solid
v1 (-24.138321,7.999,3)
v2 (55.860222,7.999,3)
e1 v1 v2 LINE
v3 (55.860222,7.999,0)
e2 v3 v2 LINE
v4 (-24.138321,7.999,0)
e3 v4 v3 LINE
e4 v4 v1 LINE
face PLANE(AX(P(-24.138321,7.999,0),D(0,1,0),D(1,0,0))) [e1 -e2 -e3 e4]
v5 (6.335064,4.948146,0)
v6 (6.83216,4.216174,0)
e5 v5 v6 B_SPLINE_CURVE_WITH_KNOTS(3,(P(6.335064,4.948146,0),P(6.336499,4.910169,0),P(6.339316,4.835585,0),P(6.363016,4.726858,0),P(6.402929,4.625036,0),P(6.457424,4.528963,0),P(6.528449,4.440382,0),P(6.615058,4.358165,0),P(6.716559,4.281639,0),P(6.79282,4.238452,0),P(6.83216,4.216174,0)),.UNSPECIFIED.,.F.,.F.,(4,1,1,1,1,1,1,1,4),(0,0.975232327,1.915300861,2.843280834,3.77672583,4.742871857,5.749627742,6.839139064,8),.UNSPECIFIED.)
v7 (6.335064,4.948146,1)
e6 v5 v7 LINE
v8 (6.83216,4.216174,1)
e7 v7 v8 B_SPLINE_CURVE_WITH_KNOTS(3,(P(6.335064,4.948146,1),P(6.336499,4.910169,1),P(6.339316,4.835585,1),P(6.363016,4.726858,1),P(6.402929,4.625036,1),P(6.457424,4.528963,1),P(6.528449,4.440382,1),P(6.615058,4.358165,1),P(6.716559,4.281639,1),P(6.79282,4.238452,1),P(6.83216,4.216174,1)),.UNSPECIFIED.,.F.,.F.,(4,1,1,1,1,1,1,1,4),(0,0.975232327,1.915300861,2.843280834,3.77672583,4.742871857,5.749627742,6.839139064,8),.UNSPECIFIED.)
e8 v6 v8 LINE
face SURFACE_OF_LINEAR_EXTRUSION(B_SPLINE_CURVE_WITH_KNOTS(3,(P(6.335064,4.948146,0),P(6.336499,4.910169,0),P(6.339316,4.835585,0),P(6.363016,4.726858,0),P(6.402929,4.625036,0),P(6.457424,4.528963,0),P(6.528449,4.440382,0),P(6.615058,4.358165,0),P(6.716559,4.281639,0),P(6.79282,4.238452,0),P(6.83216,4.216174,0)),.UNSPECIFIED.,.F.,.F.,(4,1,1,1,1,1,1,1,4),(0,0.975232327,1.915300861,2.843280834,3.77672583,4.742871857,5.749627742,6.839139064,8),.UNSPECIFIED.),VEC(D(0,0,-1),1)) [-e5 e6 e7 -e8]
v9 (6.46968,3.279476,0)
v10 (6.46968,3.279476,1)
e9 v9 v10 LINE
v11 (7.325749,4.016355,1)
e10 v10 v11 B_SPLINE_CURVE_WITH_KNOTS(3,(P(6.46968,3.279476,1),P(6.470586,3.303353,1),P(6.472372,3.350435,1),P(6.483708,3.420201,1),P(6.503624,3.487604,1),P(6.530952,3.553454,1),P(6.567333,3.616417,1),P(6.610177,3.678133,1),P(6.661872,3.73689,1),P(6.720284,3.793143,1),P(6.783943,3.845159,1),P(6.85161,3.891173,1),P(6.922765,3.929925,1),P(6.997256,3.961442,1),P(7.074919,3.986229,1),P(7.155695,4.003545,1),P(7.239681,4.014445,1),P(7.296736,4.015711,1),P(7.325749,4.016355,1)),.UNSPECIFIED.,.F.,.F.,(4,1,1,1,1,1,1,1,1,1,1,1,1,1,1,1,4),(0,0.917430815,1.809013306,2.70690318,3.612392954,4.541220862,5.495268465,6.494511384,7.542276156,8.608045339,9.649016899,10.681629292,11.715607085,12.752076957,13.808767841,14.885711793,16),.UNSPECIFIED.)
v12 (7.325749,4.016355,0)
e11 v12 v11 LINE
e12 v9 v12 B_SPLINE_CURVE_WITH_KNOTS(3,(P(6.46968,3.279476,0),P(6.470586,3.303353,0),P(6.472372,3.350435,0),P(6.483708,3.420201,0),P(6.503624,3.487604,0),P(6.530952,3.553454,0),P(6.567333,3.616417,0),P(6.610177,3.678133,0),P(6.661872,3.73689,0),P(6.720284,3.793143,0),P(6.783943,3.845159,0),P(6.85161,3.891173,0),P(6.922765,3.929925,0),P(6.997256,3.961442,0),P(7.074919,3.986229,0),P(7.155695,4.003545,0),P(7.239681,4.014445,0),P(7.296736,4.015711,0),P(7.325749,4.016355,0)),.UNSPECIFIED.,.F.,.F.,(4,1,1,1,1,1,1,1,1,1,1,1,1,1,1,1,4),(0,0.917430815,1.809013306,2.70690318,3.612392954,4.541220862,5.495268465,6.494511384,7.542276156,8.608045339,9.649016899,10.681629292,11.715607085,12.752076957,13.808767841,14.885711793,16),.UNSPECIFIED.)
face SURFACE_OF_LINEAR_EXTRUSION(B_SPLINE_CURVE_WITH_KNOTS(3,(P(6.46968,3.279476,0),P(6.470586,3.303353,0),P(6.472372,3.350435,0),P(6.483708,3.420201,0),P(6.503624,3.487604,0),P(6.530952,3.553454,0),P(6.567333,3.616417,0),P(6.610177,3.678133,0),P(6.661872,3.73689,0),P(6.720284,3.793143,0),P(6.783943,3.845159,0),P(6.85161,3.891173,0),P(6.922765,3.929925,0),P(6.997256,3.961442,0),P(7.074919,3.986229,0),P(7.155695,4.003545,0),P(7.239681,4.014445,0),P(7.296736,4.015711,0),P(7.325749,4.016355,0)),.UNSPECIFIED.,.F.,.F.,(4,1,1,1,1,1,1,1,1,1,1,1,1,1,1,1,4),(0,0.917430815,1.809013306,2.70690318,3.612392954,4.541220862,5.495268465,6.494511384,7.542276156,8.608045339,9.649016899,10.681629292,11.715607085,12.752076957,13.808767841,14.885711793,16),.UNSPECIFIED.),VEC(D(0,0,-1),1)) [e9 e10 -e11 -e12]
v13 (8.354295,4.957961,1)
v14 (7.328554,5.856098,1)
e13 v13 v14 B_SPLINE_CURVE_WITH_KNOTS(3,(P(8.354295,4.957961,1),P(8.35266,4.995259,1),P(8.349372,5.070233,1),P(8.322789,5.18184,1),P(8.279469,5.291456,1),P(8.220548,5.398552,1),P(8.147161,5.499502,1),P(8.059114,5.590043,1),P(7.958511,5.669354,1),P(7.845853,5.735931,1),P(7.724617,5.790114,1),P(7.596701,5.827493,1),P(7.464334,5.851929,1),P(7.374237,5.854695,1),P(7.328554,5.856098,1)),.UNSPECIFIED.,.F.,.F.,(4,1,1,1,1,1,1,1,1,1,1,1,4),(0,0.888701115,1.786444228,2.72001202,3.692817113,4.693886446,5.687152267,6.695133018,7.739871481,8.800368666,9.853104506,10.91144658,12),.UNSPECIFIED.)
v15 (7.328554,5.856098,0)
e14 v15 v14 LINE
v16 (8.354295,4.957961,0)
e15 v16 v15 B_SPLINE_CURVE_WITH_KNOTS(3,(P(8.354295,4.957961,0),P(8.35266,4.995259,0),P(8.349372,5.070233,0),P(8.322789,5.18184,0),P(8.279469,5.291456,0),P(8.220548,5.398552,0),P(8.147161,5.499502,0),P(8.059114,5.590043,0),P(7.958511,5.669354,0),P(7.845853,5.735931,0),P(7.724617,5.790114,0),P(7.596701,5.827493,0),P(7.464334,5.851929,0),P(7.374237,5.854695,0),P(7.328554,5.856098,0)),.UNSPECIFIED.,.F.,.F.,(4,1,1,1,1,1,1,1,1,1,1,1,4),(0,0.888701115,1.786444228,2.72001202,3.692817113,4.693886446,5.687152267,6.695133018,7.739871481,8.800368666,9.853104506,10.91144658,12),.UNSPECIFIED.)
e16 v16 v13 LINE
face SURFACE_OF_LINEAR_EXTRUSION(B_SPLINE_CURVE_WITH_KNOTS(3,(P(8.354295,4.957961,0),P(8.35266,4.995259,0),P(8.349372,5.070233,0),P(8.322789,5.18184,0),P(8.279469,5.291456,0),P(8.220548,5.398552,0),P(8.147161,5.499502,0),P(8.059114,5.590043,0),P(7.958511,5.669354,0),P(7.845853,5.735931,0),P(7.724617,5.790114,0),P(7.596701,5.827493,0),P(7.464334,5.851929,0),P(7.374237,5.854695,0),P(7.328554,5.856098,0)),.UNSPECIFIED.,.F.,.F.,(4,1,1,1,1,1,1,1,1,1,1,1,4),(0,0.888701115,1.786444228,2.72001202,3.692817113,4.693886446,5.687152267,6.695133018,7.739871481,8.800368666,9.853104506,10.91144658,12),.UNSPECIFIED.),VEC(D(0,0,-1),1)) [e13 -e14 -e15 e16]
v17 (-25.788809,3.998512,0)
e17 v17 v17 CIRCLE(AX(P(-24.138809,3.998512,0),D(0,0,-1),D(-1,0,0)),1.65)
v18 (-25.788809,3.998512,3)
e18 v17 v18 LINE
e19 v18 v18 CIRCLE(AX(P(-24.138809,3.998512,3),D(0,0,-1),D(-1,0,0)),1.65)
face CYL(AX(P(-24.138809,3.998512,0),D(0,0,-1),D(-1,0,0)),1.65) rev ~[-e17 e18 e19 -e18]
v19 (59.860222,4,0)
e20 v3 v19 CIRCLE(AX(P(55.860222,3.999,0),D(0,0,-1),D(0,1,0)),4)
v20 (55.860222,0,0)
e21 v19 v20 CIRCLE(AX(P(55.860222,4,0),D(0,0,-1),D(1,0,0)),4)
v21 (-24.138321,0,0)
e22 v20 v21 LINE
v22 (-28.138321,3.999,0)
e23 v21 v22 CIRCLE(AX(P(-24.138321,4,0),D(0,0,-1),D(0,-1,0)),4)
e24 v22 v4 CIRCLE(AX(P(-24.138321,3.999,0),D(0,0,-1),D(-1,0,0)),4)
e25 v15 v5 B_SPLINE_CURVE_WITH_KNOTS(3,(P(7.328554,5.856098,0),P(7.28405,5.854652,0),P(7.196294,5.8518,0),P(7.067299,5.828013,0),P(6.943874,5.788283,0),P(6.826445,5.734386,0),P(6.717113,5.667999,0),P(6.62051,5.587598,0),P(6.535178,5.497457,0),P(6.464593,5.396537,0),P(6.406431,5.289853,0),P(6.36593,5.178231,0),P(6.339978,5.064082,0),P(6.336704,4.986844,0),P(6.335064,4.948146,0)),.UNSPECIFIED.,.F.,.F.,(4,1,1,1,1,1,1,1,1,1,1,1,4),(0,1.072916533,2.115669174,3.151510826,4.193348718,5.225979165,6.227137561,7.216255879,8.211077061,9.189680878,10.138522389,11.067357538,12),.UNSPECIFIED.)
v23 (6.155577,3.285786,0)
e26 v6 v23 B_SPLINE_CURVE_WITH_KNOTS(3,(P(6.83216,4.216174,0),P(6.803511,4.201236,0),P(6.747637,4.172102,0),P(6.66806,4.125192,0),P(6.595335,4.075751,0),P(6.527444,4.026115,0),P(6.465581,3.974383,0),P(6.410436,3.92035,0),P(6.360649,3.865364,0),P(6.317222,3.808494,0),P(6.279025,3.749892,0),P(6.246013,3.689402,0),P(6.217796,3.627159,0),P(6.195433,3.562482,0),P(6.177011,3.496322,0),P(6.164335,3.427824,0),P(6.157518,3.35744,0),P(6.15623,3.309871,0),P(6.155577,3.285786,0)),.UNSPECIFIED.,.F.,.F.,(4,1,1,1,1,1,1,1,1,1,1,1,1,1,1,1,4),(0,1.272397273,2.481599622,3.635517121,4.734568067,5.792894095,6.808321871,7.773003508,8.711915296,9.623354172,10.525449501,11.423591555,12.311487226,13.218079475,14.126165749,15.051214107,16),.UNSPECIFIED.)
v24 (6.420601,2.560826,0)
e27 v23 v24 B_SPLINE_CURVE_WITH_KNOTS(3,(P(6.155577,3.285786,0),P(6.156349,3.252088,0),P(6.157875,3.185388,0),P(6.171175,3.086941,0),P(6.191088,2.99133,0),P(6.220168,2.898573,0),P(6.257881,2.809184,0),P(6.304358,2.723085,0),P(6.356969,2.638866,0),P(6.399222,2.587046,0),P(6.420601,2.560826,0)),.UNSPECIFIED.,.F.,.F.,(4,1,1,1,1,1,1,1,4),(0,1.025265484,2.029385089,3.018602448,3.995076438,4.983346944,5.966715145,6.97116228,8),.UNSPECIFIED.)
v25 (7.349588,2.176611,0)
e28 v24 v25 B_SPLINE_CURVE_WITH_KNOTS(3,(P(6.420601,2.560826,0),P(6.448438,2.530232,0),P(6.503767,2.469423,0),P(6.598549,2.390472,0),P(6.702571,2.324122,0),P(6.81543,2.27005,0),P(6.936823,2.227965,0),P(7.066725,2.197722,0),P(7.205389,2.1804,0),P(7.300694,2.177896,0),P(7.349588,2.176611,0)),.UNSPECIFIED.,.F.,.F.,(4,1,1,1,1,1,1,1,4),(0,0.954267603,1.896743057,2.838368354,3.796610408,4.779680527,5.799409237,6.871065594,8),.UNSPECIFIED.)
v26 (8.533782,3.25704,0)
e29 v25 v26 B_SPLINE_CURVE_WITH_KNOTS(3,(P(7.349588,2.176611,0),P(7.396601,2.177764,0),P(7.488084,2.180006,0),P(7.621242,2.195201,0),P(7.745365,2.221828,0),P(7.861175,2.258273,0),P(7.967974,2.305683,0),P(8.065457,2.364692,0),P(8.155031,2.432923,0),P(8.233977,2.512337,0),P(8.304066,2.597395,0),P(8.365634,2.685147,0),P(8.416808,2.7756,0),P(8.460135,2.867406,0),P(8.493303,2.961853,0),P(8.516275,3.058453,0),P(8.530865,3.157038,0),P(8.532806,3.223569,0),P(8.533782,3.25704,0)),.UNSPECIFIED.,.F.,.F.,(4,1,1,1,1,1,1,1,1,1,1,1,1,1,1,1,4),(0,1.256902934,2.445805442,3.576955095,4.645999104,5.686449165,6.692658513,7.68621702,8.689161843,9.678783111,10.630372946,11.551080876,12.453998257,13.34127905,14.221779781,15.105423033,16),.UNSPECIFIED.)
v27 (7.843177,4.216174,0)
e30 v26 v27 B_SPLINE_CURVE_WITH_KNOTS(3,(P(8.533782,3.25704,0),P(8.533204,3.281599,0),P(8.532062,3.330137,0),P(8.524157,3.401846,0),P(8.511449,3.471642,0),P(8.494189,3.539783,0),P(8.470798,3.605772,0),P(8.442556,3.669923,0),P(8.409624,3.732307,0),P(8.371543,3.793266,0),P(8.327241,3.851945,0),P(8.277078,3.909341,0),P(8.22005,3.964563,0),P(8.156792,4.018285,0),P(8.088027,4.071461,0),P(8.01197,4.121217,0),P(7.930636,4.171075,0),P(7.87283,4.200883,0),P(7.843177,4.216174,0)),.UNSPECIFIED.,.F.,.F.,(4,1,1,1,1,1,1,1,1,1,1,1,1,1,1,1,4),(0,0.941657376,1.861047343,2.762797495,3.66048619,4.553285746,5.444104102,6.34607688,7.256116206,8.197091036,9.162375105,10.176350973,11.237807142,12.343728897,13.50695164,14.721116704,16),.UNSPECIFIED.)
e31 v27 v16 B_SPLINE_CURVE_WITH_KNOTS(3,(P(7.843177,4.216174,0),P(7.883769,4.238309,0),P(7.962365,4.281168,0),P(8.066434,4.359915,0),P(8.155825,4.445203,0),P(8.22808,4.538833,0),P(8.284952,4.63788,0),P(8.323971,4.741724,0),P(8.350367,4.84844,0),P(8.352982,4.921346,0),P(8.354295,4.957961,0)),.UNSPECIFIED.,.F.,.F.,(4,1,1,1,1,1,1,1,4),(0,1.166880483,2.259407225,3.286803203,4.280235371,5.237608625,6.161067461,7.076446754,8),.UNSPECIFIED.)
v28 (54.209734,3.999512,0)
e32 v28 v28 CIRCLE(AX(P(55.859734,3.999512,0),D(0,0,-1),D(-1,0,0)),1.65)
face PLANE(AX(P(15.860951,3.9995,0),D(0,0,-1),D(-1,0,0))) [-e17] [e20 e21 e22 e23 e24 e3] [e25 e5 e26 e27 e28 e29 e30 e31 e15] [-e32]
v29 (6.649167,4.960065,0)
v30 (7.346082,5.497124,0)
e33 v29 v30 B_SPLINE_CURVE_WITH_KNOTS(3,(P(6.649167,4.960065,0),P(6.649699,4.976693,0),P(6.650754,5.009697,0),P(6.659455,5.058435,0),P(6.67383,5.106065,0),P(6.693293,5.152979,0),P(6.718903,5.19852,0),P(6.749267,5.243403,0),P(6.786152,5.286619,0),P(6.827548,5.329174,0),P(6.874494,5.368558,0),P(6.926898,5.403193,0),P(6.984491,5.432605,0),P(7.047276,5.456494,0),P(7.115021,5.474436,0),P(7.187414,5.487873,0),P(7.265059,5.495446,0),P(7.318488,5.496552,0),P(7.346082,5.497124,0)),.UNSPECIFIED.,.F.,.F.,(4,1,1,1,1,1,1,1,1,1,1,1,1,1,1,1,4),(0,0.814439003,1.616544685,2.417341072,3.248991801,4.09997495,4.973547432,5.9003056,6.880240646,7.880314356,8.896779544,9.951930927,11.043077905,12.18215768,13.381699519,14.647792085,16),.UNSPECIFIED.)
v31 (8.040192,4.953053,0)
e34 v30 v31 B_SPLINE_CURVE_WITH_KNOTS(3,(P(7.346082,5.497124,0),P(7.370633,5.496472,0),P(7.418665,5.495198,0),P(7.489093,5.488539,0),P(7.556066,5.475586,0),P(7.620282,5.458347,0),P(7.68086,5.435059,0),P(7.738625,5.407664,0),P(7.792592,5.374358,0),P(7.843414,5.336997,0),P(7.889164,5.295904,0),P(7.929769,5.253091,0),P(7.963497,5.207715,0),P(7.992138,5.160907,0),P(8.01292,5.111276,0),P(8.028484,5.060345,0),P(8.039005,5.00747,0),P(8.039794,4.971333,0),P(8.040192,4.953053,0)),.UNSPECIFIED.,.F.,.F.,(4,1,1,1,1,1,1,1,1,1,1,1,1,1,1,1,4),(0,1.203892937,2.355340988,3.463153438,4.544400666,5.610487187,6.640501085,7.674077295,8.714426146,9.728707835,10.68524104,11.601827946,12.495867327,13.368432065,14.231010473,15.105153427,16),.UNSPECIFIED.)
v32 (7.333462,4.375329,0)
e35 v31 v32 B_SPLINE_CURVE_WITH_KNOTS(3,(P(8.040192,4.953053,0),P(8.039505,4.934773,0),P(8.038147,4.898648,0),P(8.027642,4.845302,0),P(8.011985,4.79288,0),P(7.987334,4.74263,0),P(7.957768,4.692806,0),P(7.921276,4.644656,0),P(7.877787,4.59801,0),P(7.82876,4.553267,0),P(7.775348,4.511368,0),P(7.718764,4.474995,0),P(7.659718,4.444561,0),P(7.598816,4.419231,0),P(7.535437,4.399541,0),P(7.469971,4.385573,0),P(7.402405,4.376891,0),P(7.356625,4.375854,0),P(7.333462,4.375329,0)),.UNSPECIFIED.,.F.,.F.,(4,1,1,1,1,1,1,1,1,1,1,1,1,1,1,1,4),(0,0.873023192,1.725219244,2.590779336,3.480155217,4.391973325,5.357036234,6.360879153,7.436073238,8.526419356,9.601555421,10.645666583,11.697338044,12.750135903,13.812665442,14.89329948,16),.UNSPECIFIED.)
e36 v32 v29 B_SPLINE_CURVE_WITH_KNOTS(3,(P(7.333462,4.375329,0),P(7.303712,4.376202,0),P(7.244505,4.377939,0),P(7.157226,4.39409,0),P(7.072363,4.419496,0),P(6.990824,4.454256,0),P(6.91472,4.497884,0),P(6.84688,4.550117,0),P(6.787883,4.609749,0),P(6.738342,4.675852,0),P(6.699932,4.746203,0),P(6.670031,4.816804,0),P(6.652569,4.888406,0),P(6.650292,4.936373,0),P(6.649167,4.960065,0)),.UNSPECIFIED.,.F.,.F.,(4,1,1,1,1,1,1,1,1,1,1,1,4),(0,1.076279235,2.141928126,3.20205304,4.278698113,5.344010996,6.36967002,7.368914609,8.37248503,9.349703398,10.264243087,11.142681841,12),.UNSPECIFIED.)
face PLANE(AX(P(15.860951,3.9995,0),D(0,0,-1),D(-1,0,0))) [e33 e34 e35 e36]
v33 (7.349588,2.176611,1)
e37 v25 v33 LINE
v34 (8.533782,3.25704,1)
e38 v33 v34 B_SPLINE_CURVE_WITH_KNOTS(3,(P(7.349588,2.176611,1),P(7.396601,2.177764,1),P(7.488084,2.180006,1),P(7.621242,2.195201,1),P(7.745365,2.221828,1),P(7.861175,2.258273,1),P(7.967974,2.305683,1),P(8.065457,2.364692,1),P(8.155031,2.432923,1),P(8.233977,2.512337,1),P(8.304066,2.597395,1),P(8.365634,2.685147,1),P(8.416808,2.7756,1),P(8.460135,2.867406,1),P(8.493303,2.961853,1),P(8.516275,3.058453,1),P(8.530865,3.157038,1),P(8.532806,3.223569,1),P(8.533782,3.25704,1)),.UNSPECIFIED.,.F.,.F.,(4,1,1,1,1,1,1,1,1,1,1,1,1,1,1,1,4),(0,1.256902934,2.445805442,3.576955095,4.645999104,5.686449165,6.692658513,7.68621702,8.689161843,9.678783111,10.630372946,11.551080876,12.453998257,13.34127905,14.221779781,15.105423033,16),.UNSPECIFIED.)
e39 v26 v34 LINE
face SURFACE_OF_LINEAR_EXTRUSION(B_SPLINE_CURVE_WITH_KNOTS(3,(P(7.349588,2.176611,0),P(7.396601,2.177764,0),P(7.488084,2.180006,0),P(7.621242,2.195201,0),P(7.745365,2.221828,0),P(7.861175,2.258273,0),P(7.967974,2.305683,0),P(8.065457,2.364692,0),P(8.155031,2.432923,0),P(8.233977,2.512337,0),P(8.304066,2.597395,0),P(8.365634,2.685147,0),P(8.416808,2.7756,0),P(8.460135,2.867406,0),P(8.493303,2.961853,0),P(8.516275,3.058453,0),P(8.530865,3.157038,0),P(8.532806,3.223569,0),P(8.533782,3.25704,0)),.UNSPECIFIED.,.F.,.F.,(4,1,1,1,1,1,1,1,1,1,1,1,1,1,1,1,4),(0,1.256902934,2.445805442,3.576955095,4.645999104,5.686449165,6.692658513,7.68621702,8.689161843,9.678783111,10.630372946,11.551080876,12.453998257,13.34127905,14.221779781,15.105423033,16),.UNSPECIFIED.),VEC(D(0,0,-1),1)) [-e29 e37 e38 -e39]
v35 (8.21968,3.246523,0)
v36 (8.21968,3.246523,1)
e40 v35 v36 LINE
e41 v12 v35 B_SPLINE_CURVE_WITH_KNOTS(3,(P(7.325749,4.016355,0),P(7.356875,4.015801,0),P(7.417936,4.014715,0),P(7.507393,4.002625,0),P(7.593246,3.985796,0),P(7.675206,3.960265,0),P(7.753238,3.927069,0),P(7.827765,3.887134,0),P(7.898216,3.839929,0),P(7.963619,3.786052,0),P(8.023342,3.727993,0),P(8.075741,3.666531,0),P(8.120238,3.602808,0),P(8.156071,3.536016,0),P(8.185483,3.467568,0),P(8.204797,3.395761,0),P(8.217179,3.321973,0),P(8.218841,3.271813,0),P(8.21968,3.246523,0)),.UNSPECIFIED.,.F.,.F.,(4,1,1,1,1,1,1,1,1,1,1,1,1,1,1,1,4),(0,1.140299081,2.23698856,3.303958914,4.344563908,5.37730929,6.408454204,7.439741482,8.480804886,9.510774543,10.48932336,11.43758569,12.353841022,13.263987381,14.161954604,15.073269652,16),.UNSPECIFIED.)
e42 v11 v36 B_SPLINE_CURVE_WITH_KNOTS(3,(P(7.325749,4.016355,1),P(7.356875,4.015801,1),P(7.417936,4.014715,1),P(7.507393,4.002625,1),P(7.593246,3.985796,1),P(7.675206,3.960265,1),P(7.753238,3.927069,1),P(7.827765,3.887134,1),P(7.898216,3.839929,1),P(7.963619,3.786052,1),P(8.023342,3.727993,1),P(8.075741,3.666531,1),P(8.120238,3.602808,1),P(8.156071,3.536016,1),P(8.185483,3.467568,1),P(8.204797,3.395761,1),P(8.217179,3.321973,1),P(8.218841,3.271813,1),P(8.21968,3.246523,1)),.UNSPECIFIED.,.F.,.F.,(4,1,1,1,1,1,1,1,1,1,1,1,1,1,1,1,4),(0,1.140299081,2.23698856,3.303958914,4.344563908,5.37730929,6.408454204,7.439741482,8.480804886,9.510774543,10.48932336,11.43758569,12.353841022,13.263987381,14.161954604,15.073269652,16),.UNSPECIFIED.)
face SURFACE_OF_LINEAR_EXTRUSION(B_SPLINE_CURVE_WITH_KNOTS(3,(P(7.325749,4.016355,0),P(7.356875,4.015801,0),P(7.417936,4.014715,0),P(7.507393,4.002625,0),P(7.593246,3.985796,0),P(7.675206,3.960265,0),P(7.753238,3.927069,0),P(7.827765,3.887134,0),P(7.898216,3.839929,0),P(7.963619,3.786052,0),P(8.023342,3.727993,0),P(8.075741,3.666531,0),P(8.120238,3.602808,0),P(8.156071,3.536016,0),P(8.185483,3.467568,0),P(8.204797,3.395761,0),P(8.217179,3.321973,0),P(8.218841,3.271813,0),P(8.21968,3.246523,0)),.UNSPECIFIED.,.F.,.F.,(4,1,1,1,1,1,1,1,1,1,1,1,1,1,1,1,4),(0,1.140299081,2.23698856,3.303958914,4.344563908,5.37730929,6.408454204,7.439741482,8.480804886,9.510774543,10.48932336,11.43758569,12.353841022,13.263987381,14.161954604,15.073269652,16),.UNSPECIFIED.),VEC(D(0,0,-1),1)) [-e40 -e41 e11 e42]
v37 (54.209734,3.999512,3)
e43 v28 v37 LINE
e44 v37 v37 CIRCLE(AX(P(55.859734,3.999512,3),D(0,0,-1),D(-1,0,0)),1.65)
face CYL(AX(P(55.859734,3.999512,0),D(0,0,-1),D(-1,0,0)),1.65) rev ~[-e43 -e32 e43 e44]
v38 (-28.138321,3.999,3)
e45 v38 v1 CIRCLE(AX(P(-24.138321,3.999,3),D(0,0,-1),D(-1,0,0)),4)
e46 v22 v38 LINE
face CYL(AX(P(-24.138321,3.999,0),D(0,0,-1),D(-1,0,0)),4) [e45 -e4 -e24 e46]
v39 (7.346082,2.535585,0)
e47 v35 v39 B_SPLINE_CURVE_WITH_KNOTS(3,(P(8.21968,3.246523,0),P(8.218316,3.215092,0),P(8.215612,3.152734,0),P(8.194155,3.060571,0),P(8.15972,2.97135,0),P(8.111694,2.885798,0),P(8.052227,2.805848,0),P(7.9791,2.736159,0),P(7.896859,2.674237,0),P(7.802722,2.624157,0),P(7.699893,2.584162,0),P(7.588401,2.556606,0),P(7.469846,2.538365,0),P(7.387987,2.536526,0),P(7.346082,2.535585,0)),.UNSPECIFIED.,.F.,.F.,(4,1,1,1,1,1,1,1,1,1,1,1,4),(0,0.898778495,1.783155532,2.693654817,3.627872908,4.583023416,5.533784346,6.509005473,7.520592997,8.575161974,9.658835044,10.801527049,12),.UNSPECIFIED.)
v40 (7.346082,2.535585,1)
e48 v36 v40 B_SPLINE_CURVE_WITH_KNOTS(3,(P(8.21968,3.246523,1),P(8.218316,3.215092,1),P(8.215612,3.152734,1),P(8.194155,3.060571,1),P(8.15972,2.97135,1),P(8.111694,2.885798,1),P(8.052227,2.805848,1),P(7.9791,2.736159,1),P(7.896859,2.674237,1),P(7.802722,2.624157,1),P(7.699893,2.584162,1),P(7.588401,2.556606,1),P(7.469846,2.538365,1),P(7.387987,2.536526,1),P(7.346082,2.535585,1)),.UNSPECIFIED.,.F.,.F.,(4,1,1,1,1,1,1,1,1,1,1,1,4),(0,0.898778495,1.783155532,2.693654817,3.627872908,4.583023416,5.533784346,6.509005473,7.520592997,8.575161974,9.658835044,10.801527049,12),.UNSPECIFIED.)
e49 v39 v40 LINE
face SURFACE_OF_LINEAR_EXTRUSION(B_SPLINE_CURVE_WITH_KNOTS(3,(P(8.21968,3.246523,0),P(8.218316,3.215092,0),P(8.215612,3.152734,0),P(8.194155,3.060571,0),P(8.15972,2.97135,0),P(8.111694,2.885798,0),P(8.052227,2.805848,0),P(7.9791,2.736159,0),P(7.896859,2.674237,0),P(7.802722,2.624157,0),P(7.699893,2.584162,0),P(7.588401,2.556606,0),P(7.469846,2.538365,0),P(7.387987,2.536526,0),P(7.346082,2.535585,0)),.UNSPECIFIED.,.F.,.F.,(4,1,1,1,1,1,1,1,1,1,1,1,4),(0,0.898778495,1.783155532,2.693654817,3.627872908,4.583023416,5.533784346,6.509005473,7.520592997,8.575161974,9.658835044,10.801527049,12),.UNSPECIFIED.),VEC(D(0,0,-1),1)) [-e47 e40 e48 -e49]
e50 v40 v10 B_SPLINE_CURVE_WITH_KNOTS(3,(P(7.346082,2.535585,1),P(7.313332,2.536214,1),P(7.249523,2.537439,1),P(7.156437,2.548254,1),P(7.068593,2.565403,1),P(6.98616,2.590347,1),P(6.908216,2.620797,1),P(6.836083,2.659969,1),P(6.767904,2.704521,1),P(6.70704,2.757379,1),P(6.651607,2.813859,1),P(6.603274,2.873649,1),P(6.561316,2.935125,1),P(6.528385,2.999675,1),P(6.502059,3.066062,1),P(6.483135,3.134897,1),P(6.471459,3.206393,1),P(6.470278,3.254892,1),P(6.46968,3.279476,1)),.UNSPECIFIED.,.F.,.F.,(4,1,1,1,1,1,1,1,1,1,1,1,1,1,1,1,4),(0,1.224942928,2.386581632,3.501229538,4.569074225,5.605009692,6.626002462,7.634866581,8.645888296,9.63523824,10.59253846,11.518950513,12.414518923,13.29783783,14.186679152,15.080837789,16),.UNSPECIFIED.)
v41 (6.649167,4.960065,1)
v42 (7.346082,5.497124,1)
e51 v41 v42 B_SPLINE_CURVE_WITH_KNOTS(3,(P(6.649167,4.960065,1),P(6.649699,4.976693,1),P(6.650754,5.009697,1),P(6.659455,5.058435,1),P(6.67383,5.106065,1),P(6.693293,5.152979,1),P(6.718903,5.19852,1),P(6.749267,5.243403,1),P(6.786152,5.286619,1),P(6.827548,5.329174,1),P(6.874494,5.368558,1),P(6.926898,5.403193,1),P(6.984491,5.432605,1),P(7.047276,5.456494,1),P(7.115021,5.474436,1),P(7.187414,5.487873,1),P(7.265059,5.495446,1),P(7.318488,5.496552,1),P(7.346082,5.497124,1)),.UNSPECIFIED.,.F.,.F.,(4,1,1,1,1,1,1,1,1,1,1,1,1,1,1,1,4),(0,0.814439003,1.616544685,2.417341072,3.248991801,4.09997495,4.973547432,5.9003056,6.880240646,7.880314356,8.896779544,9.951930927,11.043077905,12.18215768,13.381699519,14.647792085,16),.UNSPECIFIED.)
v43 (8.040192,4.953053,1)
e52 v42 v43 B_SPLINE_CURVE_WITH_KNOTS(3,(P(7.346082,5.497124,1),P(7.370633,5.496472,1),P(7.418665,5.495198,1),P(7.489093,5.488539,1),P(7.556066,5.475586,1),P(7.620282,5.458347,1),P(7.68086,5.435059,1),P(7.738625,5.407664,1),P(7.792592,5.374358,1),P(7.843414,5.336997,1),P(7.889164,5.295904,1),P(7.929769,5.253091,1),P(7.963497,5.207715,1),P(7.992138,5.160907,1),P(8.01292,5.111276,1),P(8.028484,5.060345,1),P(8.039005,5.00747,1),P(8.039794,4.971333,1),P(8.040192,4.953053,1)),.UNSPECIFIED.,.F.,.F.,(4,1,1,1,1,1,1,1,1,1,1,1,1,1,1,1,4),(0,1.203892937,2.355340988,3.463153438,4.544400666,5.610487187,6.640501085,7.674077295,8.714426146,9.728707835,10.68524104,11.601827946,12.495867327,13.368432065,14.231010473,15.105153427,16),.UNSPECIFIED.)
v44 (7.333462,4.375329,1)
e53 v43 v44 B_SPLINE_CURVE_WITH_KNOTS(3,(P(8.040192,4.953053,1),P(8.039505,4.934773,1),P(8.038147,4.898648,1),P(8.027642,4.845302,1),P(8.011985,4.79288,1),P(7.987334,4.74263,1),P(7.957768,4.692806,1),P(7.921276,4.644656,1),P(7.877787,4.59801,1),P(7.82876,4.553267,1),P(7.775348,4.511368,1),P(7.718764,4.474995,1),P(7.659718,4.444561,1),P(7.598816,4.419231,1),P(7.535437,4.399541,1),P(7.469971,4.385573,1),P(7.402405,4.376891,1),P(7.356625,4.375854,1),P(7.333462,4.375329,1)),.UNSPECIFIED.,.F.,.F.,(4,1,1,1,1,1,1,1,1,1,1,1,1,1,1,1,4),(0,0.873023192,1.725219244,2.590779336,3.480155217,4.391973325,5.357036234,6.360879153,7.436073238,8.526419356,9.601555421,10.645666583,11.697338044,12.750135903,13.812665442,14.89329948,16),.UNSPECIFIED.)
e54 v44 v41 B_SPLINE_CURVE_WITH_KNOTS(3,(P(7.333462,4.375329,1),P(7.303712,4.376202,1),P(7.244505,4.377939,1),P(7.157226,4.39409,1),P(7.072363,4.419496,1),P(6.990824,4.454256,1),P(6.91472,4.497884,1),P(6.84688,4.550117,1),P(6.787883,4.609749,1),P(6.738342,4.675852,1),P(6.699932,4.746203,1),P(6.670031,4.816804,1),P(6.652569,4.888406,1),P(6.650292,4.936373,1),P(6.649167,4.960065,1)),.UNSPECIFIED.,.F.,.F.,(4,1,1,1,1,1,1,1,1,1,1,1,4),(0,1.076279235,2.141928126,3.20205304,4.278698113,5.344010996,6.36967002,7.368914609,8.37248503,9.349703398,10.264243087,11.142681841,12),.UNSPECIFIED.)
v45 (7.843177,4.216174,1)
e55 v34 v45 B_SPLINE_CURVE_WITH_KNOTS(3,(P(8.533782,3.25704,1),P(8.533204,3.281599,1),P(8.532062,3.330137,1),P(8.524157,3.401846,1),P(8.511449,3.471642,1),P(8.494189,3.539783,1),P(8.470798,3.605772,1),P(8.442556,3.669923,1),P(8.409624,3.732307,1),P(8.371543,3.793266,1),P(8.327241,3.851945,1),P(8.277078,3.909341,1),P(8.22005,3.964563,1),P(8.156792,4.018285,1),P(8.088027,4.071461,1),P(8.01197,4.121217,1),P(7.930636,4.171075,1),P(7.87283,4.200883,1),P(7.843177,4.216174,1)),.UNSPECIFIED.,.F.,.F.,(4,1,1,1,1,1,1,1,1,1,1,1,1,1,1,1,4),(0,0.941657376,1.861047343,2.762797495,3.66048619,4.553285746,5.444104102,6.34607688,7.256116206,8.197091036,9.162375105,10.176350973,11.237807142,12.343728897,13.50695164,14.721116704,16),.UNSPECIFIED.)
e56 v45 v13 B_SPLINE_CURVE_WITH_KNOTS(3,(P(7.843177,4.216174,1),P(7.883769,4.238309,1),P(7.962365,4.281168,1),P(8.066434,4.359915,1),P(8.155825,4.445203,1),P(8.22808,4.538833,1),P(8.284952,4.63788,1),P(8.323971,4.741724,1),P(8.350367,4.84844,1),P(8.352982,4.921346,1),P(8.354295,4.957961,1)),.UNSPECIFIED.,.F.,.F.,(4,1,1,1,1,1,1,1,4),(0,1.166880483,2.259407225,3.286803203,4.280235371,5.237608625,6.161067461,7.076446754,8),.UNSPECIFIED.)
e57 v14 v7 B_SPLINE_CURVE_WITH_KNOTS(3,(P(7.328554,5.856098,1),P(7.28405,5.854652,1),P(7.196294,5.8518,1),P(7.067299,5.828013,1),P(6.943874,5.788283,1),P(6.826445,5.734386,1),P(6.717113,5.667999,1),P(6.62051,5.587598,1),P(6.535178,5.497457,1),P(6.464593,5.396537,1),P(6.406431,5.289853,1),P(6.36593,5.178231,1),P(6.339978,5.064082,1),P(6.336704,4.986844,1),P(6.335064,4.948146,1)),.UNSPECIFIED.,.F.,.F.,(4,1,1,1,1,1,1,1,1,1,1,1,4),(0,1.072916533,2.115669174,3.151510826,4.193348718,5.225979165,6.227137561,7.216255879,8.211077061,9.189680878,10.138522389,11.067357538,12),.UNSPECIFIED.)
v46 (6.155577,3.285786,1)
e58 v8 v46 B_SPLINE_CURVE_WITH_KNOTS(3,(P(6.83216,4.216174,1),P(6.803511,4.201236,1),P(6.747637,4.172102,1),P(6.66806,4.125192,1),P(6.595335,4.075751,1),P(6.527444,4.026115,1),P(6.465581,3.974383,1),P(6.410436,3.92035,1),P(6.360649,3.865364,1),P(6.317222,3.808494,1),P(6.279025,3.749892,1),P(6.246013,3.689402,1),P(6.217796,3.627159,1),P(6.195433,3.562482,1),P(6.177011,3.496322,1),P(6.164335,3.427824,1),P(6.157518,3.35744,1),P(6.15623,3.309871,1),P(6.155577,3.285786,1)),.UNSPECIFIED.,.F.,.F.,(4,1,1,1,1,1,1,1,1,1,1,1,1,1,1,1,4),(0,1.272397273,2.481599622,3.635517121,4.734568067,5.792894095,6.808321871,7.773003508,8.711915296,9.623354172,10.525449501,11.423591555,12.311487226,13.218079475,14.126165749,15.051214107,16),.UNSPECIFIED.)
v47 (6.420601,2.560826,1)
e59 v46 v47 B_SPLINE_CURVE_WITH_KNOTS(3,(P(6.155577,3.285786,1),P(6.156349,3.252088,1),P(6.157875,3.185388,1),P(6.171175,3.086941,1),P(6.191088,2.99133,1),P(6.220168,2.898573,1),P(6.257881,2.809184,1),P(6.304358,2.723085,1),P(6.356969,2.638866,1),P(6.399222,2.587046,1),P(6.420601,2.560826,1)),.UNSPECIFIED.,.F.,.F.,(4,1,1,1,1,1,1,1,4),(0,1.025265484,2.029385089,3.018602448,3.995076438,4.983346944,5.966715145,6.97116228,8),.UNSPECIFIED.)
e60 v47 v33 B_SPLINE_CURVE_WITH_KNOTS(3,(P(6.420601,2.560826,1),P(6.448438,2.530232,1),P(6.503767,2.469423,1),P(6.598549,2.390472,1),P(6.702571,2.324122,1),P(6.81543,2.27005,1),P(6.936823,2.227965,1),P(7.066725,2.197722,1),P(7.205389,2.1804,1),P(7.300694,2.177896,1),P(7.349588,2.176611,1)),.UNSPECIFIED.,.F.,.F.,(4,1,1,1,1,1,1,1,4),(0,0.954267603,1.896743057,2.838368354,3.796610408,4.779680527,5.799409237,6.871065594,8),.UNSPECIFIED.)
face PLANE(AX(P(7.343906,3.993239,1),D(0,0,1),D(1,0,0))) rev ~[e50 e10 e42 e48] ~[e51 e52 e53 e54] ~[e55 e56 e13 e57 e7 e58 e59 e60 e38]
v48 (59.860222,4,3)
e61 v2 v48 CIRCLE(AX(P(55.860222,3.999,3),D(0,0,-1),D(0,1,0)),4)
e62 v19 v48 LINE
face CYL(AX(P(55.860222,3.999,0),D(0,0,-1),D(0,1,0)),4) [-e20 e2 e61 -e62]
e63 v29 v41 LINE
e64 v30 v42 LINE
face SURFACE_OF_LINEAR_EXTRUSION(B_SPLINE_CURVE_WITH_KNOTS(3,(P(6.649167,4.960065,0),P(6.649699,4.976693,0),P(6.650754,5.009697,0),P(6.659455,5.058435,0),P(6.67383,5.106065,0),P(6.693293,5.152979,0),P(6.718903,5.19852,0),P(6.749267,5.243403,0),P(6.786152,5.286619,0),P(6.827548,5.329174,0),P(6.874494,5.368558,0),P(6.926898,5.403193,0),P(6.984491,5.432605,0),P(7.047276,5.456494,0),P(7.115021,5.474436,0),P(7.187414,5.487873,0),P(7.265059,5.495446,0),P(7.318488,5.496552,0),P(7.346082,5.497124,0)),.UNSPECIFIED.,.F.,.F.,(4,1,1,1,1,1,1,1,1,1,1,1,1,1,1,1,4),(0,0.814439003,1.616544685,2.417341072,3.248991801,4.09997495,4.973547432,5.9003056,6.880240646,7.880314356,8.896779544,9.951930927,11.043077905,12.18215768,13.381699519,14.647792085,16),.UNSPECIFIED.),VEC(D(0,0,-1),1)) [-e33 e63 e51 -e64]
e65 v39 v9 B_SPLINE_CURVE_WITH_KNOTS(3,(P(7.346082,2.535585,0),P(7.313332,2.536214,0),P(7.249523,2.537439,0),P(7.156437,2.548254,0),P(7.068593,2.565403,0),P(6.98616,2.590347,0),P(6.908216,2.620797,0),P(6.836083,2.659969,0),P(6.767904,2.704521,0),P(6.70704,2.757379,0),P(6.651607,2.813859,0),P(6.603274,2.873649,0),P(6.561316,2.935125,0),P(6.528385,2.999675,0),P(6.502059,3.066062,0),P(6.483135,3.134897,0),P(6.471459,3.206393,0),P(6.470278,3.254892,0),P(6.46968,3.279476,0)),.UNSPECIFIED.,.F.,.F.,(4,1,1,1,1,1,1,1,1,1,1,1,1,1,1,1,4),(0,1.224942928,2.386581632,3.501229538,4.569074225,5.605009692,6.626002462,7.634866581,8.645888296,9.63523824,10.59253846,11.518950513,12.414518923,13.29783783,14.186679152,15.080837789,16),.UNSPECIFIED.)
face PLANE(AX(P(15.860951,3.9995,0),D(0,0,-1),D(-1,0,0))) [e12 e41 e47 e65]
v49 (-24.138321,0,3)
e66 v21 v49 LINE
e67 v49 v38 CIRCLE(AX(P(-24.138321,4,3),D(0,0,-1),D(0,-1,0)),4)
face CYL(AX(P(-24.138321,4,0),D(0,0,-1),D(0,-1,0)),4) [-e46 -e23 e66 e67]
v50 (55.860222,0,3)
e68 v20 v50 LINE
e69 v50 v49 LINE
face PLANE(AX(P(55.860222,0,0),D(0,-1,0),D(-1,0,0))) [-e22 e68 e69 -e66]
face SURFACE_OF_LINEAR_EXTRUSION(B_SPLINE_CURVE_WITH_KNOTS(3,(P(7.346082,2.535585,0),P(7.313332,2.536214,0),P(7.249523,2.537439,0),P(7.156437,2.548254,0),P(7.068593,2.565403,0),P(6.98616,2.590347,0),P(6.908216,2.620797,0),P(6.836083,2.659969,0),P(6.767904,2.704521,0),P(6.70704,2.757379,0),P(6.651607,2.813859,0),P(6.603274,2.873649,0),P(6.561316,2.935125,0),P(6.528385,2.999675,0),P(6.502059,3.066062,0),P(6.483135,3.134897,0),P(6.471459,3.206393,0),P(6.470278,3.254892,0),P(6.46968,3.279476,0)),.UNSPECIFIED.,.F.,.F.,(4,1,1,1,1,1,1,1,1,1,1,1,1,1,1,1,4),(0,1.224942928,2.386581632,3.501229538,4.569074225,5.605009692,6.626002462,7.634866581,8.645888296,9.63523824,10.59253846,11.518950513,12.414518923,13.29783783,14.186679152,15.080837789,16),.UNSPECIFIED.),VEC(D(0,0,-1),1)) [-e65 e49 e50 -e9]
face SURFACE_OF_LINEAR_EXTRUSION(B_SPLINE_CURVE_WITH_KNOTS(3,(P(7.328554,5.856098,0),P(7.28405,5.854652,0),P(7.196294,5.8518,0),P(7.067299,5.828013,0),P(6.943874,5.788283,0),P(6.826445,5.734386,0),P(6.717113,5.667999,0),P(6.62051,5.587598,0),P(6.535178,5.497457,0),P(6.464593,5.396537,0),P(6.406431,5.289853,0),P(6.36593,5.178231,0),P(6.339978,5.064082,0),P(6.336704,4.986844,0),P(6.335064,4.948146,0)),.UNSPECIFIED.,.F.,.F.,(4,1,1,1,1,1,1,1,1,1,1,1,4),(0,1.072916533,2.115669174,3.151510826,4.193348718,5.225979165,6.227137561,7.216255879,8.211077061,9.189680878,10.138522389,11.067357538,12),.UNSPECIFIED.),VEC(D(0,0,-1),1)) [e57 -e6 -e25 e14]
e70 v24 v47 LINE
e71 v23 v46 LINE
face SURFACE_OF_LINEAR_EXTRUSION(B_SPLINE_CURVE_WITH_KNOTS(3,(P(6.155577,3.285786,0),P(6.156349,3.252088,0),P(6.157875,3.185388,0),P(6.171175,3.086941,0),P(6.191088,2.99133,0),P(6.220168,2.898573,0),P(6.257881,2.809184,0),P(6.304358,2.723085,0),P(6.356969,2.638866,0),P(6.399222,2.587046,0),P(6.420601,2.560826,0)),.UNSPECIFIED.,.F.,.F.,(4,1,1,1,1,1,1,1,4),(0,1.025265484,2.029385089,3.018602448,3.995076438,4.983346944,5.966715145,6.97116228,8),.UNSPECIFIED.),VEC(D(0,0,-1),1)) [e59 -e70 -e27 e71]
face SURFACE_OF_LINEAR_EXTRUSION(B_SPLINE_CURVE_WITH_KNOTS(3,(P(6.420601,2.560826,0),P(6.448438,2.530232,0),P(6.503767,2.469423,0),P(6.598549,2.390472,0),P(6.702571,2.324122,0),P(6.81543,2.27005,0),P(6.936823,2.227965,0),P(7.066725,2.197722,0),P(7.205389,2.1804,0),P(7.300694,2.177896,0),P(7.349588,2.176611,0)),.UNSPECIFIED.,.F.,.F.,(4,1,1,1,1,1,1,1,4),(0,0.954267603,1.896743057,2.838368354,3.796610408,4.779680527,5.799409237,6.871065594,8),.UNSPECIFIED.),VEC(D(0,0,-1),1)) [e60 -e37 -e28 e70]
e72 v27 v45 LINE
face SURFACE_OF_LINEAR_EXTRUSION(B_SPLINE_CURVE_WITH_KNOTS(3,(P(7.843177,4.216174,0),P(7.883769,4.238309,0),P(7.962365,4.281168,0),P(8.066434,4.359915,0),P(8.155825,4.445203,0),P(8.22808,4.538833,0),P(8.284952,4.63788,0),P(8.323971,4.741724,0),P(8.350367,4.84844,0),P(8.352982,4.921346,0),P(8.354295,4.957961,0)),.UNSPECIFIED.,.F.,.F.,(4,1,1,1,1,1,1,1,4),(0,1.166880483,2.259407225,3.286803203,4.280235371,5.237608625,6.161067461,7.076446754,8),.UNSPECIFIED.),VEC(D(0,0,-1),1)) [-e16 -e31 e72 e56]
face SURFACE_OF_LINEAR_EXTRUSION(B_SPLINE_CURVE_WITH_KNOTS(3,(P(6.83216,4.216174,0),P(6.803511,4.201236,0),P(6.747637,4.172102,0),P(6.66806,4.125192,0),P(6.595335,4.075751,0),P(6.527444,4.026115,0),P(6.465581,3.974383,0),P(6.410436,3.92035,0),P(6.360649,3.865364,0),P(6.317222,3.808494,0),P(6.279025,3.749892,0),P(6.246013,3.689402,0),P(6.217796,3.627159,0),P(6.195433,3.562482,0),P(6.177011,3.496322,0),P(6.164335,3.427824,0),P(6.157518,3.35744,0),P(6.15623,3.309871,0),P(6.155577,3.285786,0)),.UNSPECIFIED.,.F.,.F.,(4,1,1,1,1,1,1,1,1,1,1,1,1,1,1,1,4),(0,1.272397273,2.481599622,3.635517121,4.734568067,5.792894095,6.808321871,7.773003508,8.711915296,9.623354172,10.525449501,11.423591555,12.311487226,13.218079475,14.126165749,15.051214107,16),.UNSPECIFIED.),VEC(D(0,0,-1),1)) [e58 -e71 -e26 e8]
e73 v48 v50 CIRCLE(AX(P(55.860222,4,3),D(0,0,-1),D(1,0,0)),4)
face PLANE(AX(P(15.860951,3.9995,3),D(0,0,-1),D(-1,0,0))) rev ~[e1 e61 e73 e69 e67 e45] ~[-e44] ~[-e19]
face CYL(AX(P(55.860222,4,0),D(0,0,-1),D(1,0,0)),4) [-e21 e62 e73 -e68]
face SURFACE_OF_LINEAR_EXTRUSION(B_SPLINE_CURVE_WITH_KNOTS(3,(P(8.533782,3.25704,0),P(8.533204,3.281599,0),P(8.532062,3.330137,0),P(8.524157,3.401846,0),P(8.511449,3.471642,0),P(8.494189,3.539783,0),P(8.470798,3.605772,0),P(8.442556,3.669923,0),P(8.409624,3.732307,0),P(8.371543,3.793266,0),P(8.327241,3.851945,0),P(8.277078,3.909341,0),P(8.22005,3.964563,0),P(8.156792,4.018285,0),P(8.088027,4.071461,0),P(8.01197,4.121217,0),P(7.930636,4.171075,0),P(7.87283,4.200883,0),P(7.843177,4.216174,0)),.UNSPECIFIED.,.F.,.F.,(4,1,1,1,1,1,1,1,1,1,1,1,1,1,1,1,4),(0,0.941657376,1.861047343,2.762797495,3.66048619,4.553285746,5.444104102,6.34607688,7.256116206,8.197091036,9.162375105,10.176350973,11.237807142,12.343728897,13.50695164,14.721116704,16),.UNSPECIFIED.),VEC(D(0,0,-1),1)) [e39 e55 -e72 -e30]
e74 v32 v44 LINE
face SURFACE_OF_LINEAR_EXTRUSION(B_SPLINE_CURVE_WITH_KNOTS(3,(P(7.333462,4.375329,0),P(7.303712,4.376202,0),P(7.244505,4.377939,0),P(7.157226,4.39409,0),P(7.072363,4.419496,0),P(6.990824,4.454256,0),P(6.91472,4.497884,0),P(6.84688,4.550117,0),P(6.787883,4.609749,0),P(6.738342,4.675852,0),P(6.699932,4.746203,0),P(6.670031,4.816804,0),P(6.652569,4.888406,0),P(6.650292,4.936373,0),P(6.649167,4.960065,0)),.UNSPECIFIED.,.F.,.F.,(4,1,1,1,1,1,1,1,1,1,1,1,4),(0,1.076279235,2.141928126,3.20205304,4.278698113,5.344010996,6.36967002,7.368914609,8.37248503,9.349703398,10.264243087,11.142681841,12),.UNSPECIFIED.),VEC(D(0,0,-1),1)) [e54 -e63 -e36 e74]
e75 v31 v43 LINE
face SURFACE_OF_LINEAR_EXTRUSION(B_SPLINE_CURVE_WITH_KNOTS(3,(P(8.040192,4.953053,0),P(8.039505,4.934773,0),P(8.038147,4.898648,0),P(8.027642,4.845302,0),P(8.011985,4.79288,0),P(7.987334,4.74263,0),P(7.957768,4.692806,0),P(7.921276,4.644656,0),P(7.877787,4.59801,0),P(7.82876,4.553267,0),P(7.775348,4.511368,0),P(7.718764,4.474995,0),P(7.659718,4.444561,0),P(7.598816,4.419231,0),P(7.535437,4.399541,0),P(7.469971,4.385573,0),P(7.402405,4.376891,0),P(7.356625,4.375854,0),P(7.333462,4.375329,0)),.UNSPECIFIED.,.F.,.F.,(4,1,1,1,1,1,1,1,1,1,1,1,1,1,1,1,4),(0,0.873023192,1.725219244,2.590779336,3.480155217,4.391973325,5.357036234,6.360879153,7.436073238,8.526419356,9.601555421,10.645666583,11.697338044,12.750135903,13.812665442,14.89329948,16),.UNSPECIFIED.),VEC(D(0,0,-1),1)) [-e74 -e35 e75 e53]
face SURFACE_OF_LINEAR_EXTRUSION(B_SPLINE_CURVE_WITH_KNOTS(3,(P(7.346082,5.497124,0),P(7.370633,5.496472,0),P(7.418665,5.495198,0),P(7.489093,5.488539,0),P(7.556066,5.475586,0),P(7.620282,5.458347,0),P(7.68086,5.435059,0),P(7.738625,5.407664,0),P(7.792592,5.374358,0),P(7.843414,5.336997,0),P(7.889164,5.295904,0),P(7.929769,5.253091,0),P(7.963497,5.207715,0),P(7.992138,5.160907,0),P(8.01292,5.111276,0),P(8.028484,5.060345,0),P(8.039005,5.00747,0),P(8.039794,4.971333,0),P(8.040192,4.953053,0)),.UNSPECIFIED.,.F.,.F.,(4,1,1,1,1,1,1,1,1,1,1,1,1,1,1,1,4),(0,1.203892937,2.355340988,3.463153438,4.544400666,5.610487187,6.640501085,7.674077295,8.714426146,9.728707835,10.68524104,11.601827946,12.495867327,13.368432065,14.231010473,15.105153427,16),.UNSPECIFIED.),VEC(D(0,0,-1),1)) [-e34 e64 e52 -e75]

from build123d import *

# Parameters (mm, degrees)
SKETCH_1_R          = 1.65
EXTRUDE_1_DEPTH     = 3
CUT_EXTRUDE_1_DEPTH = 1


with BuildPart() as part:
    # 草图1 → 凸台-拉伸1 (new body)
    with BuildSketch(Plane(origin=(0, 0, 0), x_dir=(-1, 0, 0), z_dir=(0, 0, -1))):
        with BuildLine():
            Line((-55.860221974, 0), (24.13832066, 0))
            ThreePointArc((24.13832066, 0), (26.966394209, 1.171219344), (28.138320535, 3.999))
            ThreePointArc((28.138320535, 3.999), (26.96674766, 6.827427125), (24.138320535, 7.999))
            Line((24.138320535, 7.999), (-55.860222099, 7.999))
            ThreePointArc((-55.860222099, 7.999), (-58.688295648, 6.827780656), (-59.860221974, 4))
            ThreePointArc((-59.860221974, 4), (-58.688649099, 1.171572875), (-55.860221974, 0))
        make_face()
        with Locations((24.138809001, 3.998511534)):
            Circle(SKETCH_1_R, mode=Mode.SUBTRACT)
        with Locations((-55.859733508, 3.999511534)):
            Circle(SKETCH_1_R, mode=Mode.SUBTRACT)
    extrude(amount=-EXTRUDE_1_DEPTH)

    # 草图2 → 切除-拉伸1 (cut)
    with BuildSketch(Plane(origin=(0, 0, 0), x_dir=(-1, 0, 0), z_dir=(0, 0, -1))):
        with BuildLine():
            add(Edge.make_bspline(
                [(-6.832159624, 4.216174383), (-6.803511077, 4.201236427), (-6.747636843, 4.172102424), (-6.668059635, 4.125191596), (-6.595334633, 4.075750631), (-6.527444071, 4.026114772), (-6.465580721, 3.974383121), (-6.410436308, 3.920349964), (-6.360648688, 3.865364019), (-6.317221904, 3.808494179), (-6.279025067, 3.74989153), (-6.246012932, 3.689402257), (-6.217795729, 3.627158923), (-6.19543279, 3.562482093), (-6.177010999, 3.496321831), (-6.164335394, 3.42782385), (-6.157518476, 3.357439509), (-6.156229662, 3.309871207), (-6.155577092, 3.285785761)],
                knots=[0, 0, 0, 0, 1.272397273, 2.481599622, 3.635517121, 4.734568067, 5.792894095, 6.808321871, 7.773003508, 8.711915296, 9.623354172, 10.525449501, 11.423591555, 12.311487226, 13.218079475, 14.126165749, 15.051214107, 16, 16, 16, 16], degree=3))
            add(Edge.make_bspline(
                [(-6.155577092, 3.285785761), (-6.156348513, 3.252088028), (-6.157875444, 3.185387572), (-6.171175428, 3.08694146), (-6.191088406, 2.991329678), (-6.220167918, 2.898573187), (-6.257881309, 2.809183814), (-6.304358145, 2.723085041), (-6.35696935, 2.638865731), (-6.39922159, 2.58704633), (-6.420601131, 2.560825825)],
                knots=[0, 0, 0, 0, 1.025265484, 2.029385089, 3.018602448, 3.995076438, 4.983346944, 5.966715145, 6.97116228, 8, 8, 8, 8], degree=3))
            add(Edge.make_bspline(
                [(-6.420601131, 2.560825825), (-6.448437605, 2.530232051), (-6.503766571, 2.469422558), (-6.598549498, 2.390471748), (-6.702571382, 2.324122354), (-6.815429715, 2.27005046), (-6.936822816, 2.227964601), (-7.066724821, 2.197722083), (-7.205388974, 2.180399654), (-7.300694445, 2.177895664), (-7.349587509, 2.176611082)],
                knots=[0, 0, 0, 0, 0.954267603, 1.896743057, 2.838368354, 3.796610408, 4.779680527, 5.799409237, 6.871065594, 8, 8, 8, 8], degree=3))
            add(Edge.make_bspline(
                [(-7.349587509, 2.176611082), (-7.396600898, 2.177763559), (-7.488084177, 2.180006165), (-7.621242054, 2.195200596), (-7.745365124, 2.221828463), (-7.861175092, 2.258273072), (-7.967973786, 2.3056833), (-8.065456887, 2.364691709), (-8.155030859, 2.432923151), (-8.233977333, 2.51233723), (-8.304065777, 2.597395102), (-8.36563383, 2.685146712), (-8.416807908, 2.775600069), (-8.460135004, 2.867406436), (-8.493303026, 2.96185259), (-8.516275237, 3.058452604), (-8.530864551, 3.157037746), (-8.532805685, 3.2235694), (-8.533782221, 3.257039767)],
                knots=[0, 0, 0, 0, 1.256902934, 2.445805442, 3.576955095, 4.645999104, 5.686449165, 6.692658513, 7.68621702, 8.689161843, 9.678783111, 10.630372946, 11.551080876, 12.453998257, 13.34127905, 14.221779781, 15.105423033, 16, 16, 16, 16], degree=3))
            add(Edge.make_bspline(
                [(-8.533782221, 3.257039767), (-8.53320434, 3.281598959), (-8.532062243, 3.330136591), (-8.524157394, 3.40184592), (-8.511448933, 3.471642054), (-8.494189476, 3.539782798), (-8.47079845, 3.605772071), (-8.442556317, 3.669922544), (-8.409624364, 3.732306643), (-8.371543199, 3.793265524), (-8.327241175, 3.851945037), (-8.277077525, 3.909341031), (-8.220049657, 3.964562898), (-8.156791998, 4.018285323), (-8.088027458, 4.071461297), (-8.011969928, 4.121217026), (-7.93063566, 4.17107499), (-7.872830255, 4.200883316), (-7.843177253, 4.216174383)],
                knots=[0, 0, 0, 0, 0.941657376, 1.861047343, 2.762797495, 3.66048619, 4.553285746, 5.444104102, 6.34607688, 7.256116206, 8.197091036, 9.162375105, 10.176350973, 11.237807142, 12.343728897, 13.50695164, 14.721116704, 16, 16, 16, 16], degree=3))
            add(Edge.make_bspline(
                [(-7.843177253, 4.216174383), (-7.883768627, 4.238309151), (-7.96236489, 4.281168259), (-8.066434331, 4.359915065), (-8.155824955, 4.44520288), (-8.228079672, 4.538832675), (-8.284951901, 4.637879549), (-8.323970505, 4.741723801), (-8.350366989, 4.848439915), (-8.352981816, 4.921346111), (-8.354295041, 4.957961242)],
                knots=[0, 0, 0, 0, 1.166880483, 2.259407225, 3.286803203, 4.280235371, 5.237608625, 6.161067461, 7.076446754, 8, 8, 8, 8], degree=3))
            add(Edge.make_bspline(
                [(-8.354295041, 4.957961242), (-8.352659617, 4.9952588), (-8.349372129, 5.070233397), (-8.322788809, 5.18183952), (-8.279468742, 5.291456085), (-8.220547745, 5.398551798), (-8.147160529, 5.499502013), (-8.059113983, 5.590042959), (-7.958510686, 5.669354442), (-7.845852819, 5.735930614), (-7.724616584, 5.790114273), (-7.59670086, 5.827492696), (-7.464334367, 5.851928813), (-7.374236647, 5.854695467), (-7.328553855, 5.856098261)],
                knots=[0, 0, 0, 0, 0.888701115, 1.786444228, 2.72001202, 3.692817113, 4.693886446, 5.687152267, 6.695133018, 7.739871481, 8.800368666, 9.853104506, 10.91144658, 12, 12, 12, 12], degree=3))
            add(Edge.make_bspline(
                [(-7.328553855, 5.856098261), (-7.28405004, 5.854651918), (-7.196293587, 5.851799894), (-7.06729896, 5.828013016), (-6.943874082, 5.788283496), (-6.826444583, 5.734386273), (-6.717112716, 5.667999332), (-6.620510406, 5.587598458), (-6.535177824, 5.497456907), (-6.46459343, 5.396537304), (-6.406430541, 5.28985311), (-6.36592964, 5.178230589), (-6.339977666, 5.064081531), (-6.336704302, 4.986843527), (-6.335064272, 4.948145537)],
                knots=[0, 0, 0, 0, 1.072916533, 2.115669174, 3.151510826, 4.193348718, 5.225979165, 6.227137561, 7.216255879, 8.211077061, 9.189680878, 10.138522389, 11.067357538, 12, 12, 12, 12], degree=3))
            add(Edge.make_bspline(
                [(-6.335064272, 4.948145537), (-6.336498833, 4.910168873), (-6.339316228, 4.835584863), (-6.363016168, 4.726858343), (-6.402929481, 4.625036304), (-6.457423644, 4.528963352), (-6.528449132, 4.440381854), (-6.615057865, 4.358165384), (-6.716559343, 4.281638556), (-6.792820229, 4.238452192), (-6.832159624, 4.216174383)],
                knots=[0, 0, 0, 0, 0.975232327, 1.915300861, 2.843280834, 3.77672583, 4.742871857, 5.749627742, 6.839139064, 8, 8, 8, 8], degree=3))
        make_face()
        with BuildLine():
            add(Edge.make_bspline(
                [(-7.3460819, 5.497123902), (-7.370632706, 5.496472461), (-7.418664817, 5.495197959), (-7.489093488, 5.488539322), (-7.556065856, 5.475586105), (-7.620281656, 5.458347394), (-7.680860468, 5.435059405), (-7.738625023, 5.407664396), (-7.792592213, 5.374358331), (-7.843413516, 5.336997133), (-7.88916429, 5.295904227), (-7.929768842, 5.253090508), (-7.963496956, 5.207715116), (-7.992138066, 5.160906756), (-8.012919583, 5.11127618), (-8.028483887, 5.060345003), (-8.039005278, 5.007469619), (-8.039793669, 4.971333109), (-8.040192477, 4.953053389)],
                knots=[0, 0, 0, 0, 1.203892937, 2.355340988, 3.463153438, 4.544400666, 5.610487187, 6.640501085, 7.674077295, 8.714426146, 9.728707835, 10.68524104, 11.601827946, 12.495867327, 13.368432065, 14.231010473, 15.105153427, 16, 16, 16, 16], degree=3))
            add(Edge.make_bspline(
                [(-8.040192477, 4.953053389), (-8.03950511, 4.93477288), (-8.038146774, 4.898647967), (-8.027641646, 4.845302101), (-8.011984792, 4.792880464), (-7.98733413, 4.742629553), (-7.957767772, 4.692806194), (-7.921276296, 4.644655608), (-7.877787268, 4.598010223), (-7.828759828, 4.553266782), (-7.77534829, 4.511368019), (-7.718764246, 4.474994837), (-7.659717855, 4.444560727), (-7.598815786, 4.419231322), (-7.535437339, 4.399541384), (-7.469970865, 4.385572738), (-7.402405363, 4.376890741), (-7.356624782, 4.37585372), (-7.333461708, 4.37532903)],
                knots=[0, 0, 0, 0, 0.873023192, 1.725219244, 2.590779336, 3.480155217, 4.391973325, 5.357036234, 6.360879153, 7.436073238, 8.526419356, 9.601555421, 10.645666583, 11.697338044, 12.750135903, 13.812665442, 14.89329948, 16, 16, 16, 16], degree=3))
            add(Edge.make_bspline(
                [(-7.333461708, 4.37532903), (-7.303711604, 4.376201897), (-7.244505236, 4.37793901), (-7.157225905, 4.394090184), (-7.07236326, 4.419496102), (-6.990824356, 4.454256068), (-6.914719771, 4.497883928), (-6.846879702, 4.550116946), (-6.78788281, 4.609749043), (-6.738342199, 4.675851879), (-6.699932353, 4.746203467), (-6.670030545, 4.81680376), (-6.65256933, 4.888405991), (-6.650291763, 4.936372955), (-6.649166836, 4.960064607)],
                knots=[0, 0, 0, 0, 1.076279235, 2.141928126, 3.20205304, 4.278698113, 5.344010996, 6.36967002, 7.368914609, 8.37248503, 9.349703398, 10.264243087, 11.142681841, 12, 12, 12, 12], degree=3))
            add(Edge.make_bspline(
                [(-6.649166836, 4.960064607), (-6.649698734, 4.976692643), (-6.650754474, 5.009696911), (-6.65945453, 5.058435276), (-6.673830363, 5.10606486), (-6.693293443, 5.152979131), (-6.718903238, 5.198519863), (-6.749267425, 5.243402951), (-6.786151927, 5.286618714), (-6.82754836, 5.329174263), (-6.874493769, 5.368558287), (-6.926897681, 5.403192997), (-6.984491431, 5.432605353), (-7.047276381, 5.456494108), (-7.115021306, 5.474436458), (-7.18741418, 5.487872806), (-7.265058627, 5.495445917), (-7.318488378, 5.496552443), (-7.3460819, 5.497123902)],
                knots=[0, 0, 0, 0, 0.814439003, 1.616544685, 2.417341072, 3.248991801, 4.09997495, 4.973547432, 5.9003056, 6.880240646, 7.880314356, 8.896779544, 9.951930927, 11.043077905, 12.18215768, 13.381699519, 14.647792085, 16, 16, 16, 16], degree=3))
        make_face(mode=Mode.SUBTRACT)
        with BuildLine():
            add(Edge.make_bspline(
                [(-7.325749368, 4.016354671), (-7.356875154, 4.01580103), (-7.41793635, 4.014714921), (-7.507393278, 4.00262542), (-7.593246444, 3.985796027), (-7.67520638, 3.960265189), (-7.753238477, 3.927068698), (-7.82776516, 3.887134158), (-7.898216289, 3.839928715), (-7.963619015, 3.7860521), (-8.023342345, 3.727992646), (-8.075740645, 3.666530511), (-8.120238165, 3.602807978), (-8.156071416, 3.536015749), (-8.185483148, 3.467568138), (-8.204797026, 3.395760542), (-8.217178737, 3.321973429), (-8.218841369, 3.271813331), (-8.219679657, 3.24652294)],
                knots=[0, 0, 0, 0, 1.140299081, 2.23698856, 3.303958914, 4.344563908, 5.37730929, 6.408454204, 7.439741482, 8.480804886, 9.510774543, 10.48932336, 11.43758569, 12.353841022, 13.263987381, 14.161954604, 15.073269652, 16, 16, 16, 16], degree=3))
            add(Edge.make_bspline(
                [(-8.219679657, 3.24652294), (-8.218316398, 3.215092034), (-8.215611724, 3.152733851), (-8.194155085, 3.06057078), (-8.15971955, 2.971349725), (-8.111694334, 2.885797772), (-8.052226761, 2.805847666), (-7.979100293, 2.73615889), (-7.896859456, 2.674237412), (-7.802721602, 2.624156878), (-7.699893136, 2.584162023), (-7.588401407, 2.55660606), (-7.469846488, 2.538364611), (-7.387986896, 2.536526429), (-7.3460819, 2.53558544)],
                knots=[0, 0, 0, 0, 0.898778495, 1.783155532, 2.693654817, 3.627872908, 4.583023416, 5.533784346, 6.509005473, 7.520592997, 8.575161974, 9.658835044, 10.801527049, 12, 12, 12, 12], degree=3))
            add(Edge.make_bspline(
                [(-7.3460819, 2.53558544), (-7.313331532, 2.536214249), (-7.249523313, 2.537439369), (-7.156437364, 2.548253664), (-7.068592816, 2.565403288), (-6.986160017, 2.590346834), (-6.908216178, 2.620796811), (-6.836082823, 2.659968892), (-6.767904296, 2.704521215), (-6.707040174, 2.757379372), (-6.651606965, 2.813858867), (-6.603273672, 2.87364891), (-6.561316121, 2.935124542), (-6.528385165, 2.999675027), (-6.502058912, 3.066061941), (-6.483135357, 3.134897453), (-6.471459142, 3.206392685), (-6.470278246, 3.254891757), (-6.469679657, 3.279475665)],
                knots=[0, 0, 0, 0, 1.224942928, 2.386581632, 3.501229538, 4.569074225, 5.605009692, 6.626002462, 7.634866581, 8.645888296, 9.63523824, 10.59253846, 11.518950513, 12.414518923, 13.29783783, 14.186679152, 15.080837789, 16, 16, 16, 16], degree=3))
            add(Edge.make_bspline(
                [(-6.469679657, 3.279475665), (-6.470585505, 3.303353005), (-6.47237168, 3.35043495), (-6.483708372, 3.420201477), (-6.503624249, 3.487604291), (-6.530951646, 3.553454297), (-6.567332608, 3.616417248), (-6.610177478, 3.678133419), (-6.661871597, 3.736889864), (-6.720284193, 3.79314296), (-6.783943154, 3.845158696), (-6.851610299, 3.891173135), (-6.922764761, 3.929925251), (-6.997255971, 3.961441747), (-7.074918527, 3.986229216), (-7.155695306, 4.003545211), (-7.239680881, 4.014444814), (-7.296735752, 4.01571086), (-7.325749368, 4.016354671)],
                knots=[0, 0, 0, 0, 0.917430815, 1.809013306, 2.70690318, 3.612392954, 4.541220862, 5.495268465, 6.494511384, 7.542276156, 8.608045339, 9.649016899, 10.681629292, 11.715607085, 12.752076957, 13.808767841, 14.885711793, 16, 16, 16, 16], degree=3))
        make_face(mode=Mode.SUBTRACT)
    extrude(amount=-CUT_EXTRUDE_1_DEPTH, mode=Mode.SUBTRACT)


solid = part.part
